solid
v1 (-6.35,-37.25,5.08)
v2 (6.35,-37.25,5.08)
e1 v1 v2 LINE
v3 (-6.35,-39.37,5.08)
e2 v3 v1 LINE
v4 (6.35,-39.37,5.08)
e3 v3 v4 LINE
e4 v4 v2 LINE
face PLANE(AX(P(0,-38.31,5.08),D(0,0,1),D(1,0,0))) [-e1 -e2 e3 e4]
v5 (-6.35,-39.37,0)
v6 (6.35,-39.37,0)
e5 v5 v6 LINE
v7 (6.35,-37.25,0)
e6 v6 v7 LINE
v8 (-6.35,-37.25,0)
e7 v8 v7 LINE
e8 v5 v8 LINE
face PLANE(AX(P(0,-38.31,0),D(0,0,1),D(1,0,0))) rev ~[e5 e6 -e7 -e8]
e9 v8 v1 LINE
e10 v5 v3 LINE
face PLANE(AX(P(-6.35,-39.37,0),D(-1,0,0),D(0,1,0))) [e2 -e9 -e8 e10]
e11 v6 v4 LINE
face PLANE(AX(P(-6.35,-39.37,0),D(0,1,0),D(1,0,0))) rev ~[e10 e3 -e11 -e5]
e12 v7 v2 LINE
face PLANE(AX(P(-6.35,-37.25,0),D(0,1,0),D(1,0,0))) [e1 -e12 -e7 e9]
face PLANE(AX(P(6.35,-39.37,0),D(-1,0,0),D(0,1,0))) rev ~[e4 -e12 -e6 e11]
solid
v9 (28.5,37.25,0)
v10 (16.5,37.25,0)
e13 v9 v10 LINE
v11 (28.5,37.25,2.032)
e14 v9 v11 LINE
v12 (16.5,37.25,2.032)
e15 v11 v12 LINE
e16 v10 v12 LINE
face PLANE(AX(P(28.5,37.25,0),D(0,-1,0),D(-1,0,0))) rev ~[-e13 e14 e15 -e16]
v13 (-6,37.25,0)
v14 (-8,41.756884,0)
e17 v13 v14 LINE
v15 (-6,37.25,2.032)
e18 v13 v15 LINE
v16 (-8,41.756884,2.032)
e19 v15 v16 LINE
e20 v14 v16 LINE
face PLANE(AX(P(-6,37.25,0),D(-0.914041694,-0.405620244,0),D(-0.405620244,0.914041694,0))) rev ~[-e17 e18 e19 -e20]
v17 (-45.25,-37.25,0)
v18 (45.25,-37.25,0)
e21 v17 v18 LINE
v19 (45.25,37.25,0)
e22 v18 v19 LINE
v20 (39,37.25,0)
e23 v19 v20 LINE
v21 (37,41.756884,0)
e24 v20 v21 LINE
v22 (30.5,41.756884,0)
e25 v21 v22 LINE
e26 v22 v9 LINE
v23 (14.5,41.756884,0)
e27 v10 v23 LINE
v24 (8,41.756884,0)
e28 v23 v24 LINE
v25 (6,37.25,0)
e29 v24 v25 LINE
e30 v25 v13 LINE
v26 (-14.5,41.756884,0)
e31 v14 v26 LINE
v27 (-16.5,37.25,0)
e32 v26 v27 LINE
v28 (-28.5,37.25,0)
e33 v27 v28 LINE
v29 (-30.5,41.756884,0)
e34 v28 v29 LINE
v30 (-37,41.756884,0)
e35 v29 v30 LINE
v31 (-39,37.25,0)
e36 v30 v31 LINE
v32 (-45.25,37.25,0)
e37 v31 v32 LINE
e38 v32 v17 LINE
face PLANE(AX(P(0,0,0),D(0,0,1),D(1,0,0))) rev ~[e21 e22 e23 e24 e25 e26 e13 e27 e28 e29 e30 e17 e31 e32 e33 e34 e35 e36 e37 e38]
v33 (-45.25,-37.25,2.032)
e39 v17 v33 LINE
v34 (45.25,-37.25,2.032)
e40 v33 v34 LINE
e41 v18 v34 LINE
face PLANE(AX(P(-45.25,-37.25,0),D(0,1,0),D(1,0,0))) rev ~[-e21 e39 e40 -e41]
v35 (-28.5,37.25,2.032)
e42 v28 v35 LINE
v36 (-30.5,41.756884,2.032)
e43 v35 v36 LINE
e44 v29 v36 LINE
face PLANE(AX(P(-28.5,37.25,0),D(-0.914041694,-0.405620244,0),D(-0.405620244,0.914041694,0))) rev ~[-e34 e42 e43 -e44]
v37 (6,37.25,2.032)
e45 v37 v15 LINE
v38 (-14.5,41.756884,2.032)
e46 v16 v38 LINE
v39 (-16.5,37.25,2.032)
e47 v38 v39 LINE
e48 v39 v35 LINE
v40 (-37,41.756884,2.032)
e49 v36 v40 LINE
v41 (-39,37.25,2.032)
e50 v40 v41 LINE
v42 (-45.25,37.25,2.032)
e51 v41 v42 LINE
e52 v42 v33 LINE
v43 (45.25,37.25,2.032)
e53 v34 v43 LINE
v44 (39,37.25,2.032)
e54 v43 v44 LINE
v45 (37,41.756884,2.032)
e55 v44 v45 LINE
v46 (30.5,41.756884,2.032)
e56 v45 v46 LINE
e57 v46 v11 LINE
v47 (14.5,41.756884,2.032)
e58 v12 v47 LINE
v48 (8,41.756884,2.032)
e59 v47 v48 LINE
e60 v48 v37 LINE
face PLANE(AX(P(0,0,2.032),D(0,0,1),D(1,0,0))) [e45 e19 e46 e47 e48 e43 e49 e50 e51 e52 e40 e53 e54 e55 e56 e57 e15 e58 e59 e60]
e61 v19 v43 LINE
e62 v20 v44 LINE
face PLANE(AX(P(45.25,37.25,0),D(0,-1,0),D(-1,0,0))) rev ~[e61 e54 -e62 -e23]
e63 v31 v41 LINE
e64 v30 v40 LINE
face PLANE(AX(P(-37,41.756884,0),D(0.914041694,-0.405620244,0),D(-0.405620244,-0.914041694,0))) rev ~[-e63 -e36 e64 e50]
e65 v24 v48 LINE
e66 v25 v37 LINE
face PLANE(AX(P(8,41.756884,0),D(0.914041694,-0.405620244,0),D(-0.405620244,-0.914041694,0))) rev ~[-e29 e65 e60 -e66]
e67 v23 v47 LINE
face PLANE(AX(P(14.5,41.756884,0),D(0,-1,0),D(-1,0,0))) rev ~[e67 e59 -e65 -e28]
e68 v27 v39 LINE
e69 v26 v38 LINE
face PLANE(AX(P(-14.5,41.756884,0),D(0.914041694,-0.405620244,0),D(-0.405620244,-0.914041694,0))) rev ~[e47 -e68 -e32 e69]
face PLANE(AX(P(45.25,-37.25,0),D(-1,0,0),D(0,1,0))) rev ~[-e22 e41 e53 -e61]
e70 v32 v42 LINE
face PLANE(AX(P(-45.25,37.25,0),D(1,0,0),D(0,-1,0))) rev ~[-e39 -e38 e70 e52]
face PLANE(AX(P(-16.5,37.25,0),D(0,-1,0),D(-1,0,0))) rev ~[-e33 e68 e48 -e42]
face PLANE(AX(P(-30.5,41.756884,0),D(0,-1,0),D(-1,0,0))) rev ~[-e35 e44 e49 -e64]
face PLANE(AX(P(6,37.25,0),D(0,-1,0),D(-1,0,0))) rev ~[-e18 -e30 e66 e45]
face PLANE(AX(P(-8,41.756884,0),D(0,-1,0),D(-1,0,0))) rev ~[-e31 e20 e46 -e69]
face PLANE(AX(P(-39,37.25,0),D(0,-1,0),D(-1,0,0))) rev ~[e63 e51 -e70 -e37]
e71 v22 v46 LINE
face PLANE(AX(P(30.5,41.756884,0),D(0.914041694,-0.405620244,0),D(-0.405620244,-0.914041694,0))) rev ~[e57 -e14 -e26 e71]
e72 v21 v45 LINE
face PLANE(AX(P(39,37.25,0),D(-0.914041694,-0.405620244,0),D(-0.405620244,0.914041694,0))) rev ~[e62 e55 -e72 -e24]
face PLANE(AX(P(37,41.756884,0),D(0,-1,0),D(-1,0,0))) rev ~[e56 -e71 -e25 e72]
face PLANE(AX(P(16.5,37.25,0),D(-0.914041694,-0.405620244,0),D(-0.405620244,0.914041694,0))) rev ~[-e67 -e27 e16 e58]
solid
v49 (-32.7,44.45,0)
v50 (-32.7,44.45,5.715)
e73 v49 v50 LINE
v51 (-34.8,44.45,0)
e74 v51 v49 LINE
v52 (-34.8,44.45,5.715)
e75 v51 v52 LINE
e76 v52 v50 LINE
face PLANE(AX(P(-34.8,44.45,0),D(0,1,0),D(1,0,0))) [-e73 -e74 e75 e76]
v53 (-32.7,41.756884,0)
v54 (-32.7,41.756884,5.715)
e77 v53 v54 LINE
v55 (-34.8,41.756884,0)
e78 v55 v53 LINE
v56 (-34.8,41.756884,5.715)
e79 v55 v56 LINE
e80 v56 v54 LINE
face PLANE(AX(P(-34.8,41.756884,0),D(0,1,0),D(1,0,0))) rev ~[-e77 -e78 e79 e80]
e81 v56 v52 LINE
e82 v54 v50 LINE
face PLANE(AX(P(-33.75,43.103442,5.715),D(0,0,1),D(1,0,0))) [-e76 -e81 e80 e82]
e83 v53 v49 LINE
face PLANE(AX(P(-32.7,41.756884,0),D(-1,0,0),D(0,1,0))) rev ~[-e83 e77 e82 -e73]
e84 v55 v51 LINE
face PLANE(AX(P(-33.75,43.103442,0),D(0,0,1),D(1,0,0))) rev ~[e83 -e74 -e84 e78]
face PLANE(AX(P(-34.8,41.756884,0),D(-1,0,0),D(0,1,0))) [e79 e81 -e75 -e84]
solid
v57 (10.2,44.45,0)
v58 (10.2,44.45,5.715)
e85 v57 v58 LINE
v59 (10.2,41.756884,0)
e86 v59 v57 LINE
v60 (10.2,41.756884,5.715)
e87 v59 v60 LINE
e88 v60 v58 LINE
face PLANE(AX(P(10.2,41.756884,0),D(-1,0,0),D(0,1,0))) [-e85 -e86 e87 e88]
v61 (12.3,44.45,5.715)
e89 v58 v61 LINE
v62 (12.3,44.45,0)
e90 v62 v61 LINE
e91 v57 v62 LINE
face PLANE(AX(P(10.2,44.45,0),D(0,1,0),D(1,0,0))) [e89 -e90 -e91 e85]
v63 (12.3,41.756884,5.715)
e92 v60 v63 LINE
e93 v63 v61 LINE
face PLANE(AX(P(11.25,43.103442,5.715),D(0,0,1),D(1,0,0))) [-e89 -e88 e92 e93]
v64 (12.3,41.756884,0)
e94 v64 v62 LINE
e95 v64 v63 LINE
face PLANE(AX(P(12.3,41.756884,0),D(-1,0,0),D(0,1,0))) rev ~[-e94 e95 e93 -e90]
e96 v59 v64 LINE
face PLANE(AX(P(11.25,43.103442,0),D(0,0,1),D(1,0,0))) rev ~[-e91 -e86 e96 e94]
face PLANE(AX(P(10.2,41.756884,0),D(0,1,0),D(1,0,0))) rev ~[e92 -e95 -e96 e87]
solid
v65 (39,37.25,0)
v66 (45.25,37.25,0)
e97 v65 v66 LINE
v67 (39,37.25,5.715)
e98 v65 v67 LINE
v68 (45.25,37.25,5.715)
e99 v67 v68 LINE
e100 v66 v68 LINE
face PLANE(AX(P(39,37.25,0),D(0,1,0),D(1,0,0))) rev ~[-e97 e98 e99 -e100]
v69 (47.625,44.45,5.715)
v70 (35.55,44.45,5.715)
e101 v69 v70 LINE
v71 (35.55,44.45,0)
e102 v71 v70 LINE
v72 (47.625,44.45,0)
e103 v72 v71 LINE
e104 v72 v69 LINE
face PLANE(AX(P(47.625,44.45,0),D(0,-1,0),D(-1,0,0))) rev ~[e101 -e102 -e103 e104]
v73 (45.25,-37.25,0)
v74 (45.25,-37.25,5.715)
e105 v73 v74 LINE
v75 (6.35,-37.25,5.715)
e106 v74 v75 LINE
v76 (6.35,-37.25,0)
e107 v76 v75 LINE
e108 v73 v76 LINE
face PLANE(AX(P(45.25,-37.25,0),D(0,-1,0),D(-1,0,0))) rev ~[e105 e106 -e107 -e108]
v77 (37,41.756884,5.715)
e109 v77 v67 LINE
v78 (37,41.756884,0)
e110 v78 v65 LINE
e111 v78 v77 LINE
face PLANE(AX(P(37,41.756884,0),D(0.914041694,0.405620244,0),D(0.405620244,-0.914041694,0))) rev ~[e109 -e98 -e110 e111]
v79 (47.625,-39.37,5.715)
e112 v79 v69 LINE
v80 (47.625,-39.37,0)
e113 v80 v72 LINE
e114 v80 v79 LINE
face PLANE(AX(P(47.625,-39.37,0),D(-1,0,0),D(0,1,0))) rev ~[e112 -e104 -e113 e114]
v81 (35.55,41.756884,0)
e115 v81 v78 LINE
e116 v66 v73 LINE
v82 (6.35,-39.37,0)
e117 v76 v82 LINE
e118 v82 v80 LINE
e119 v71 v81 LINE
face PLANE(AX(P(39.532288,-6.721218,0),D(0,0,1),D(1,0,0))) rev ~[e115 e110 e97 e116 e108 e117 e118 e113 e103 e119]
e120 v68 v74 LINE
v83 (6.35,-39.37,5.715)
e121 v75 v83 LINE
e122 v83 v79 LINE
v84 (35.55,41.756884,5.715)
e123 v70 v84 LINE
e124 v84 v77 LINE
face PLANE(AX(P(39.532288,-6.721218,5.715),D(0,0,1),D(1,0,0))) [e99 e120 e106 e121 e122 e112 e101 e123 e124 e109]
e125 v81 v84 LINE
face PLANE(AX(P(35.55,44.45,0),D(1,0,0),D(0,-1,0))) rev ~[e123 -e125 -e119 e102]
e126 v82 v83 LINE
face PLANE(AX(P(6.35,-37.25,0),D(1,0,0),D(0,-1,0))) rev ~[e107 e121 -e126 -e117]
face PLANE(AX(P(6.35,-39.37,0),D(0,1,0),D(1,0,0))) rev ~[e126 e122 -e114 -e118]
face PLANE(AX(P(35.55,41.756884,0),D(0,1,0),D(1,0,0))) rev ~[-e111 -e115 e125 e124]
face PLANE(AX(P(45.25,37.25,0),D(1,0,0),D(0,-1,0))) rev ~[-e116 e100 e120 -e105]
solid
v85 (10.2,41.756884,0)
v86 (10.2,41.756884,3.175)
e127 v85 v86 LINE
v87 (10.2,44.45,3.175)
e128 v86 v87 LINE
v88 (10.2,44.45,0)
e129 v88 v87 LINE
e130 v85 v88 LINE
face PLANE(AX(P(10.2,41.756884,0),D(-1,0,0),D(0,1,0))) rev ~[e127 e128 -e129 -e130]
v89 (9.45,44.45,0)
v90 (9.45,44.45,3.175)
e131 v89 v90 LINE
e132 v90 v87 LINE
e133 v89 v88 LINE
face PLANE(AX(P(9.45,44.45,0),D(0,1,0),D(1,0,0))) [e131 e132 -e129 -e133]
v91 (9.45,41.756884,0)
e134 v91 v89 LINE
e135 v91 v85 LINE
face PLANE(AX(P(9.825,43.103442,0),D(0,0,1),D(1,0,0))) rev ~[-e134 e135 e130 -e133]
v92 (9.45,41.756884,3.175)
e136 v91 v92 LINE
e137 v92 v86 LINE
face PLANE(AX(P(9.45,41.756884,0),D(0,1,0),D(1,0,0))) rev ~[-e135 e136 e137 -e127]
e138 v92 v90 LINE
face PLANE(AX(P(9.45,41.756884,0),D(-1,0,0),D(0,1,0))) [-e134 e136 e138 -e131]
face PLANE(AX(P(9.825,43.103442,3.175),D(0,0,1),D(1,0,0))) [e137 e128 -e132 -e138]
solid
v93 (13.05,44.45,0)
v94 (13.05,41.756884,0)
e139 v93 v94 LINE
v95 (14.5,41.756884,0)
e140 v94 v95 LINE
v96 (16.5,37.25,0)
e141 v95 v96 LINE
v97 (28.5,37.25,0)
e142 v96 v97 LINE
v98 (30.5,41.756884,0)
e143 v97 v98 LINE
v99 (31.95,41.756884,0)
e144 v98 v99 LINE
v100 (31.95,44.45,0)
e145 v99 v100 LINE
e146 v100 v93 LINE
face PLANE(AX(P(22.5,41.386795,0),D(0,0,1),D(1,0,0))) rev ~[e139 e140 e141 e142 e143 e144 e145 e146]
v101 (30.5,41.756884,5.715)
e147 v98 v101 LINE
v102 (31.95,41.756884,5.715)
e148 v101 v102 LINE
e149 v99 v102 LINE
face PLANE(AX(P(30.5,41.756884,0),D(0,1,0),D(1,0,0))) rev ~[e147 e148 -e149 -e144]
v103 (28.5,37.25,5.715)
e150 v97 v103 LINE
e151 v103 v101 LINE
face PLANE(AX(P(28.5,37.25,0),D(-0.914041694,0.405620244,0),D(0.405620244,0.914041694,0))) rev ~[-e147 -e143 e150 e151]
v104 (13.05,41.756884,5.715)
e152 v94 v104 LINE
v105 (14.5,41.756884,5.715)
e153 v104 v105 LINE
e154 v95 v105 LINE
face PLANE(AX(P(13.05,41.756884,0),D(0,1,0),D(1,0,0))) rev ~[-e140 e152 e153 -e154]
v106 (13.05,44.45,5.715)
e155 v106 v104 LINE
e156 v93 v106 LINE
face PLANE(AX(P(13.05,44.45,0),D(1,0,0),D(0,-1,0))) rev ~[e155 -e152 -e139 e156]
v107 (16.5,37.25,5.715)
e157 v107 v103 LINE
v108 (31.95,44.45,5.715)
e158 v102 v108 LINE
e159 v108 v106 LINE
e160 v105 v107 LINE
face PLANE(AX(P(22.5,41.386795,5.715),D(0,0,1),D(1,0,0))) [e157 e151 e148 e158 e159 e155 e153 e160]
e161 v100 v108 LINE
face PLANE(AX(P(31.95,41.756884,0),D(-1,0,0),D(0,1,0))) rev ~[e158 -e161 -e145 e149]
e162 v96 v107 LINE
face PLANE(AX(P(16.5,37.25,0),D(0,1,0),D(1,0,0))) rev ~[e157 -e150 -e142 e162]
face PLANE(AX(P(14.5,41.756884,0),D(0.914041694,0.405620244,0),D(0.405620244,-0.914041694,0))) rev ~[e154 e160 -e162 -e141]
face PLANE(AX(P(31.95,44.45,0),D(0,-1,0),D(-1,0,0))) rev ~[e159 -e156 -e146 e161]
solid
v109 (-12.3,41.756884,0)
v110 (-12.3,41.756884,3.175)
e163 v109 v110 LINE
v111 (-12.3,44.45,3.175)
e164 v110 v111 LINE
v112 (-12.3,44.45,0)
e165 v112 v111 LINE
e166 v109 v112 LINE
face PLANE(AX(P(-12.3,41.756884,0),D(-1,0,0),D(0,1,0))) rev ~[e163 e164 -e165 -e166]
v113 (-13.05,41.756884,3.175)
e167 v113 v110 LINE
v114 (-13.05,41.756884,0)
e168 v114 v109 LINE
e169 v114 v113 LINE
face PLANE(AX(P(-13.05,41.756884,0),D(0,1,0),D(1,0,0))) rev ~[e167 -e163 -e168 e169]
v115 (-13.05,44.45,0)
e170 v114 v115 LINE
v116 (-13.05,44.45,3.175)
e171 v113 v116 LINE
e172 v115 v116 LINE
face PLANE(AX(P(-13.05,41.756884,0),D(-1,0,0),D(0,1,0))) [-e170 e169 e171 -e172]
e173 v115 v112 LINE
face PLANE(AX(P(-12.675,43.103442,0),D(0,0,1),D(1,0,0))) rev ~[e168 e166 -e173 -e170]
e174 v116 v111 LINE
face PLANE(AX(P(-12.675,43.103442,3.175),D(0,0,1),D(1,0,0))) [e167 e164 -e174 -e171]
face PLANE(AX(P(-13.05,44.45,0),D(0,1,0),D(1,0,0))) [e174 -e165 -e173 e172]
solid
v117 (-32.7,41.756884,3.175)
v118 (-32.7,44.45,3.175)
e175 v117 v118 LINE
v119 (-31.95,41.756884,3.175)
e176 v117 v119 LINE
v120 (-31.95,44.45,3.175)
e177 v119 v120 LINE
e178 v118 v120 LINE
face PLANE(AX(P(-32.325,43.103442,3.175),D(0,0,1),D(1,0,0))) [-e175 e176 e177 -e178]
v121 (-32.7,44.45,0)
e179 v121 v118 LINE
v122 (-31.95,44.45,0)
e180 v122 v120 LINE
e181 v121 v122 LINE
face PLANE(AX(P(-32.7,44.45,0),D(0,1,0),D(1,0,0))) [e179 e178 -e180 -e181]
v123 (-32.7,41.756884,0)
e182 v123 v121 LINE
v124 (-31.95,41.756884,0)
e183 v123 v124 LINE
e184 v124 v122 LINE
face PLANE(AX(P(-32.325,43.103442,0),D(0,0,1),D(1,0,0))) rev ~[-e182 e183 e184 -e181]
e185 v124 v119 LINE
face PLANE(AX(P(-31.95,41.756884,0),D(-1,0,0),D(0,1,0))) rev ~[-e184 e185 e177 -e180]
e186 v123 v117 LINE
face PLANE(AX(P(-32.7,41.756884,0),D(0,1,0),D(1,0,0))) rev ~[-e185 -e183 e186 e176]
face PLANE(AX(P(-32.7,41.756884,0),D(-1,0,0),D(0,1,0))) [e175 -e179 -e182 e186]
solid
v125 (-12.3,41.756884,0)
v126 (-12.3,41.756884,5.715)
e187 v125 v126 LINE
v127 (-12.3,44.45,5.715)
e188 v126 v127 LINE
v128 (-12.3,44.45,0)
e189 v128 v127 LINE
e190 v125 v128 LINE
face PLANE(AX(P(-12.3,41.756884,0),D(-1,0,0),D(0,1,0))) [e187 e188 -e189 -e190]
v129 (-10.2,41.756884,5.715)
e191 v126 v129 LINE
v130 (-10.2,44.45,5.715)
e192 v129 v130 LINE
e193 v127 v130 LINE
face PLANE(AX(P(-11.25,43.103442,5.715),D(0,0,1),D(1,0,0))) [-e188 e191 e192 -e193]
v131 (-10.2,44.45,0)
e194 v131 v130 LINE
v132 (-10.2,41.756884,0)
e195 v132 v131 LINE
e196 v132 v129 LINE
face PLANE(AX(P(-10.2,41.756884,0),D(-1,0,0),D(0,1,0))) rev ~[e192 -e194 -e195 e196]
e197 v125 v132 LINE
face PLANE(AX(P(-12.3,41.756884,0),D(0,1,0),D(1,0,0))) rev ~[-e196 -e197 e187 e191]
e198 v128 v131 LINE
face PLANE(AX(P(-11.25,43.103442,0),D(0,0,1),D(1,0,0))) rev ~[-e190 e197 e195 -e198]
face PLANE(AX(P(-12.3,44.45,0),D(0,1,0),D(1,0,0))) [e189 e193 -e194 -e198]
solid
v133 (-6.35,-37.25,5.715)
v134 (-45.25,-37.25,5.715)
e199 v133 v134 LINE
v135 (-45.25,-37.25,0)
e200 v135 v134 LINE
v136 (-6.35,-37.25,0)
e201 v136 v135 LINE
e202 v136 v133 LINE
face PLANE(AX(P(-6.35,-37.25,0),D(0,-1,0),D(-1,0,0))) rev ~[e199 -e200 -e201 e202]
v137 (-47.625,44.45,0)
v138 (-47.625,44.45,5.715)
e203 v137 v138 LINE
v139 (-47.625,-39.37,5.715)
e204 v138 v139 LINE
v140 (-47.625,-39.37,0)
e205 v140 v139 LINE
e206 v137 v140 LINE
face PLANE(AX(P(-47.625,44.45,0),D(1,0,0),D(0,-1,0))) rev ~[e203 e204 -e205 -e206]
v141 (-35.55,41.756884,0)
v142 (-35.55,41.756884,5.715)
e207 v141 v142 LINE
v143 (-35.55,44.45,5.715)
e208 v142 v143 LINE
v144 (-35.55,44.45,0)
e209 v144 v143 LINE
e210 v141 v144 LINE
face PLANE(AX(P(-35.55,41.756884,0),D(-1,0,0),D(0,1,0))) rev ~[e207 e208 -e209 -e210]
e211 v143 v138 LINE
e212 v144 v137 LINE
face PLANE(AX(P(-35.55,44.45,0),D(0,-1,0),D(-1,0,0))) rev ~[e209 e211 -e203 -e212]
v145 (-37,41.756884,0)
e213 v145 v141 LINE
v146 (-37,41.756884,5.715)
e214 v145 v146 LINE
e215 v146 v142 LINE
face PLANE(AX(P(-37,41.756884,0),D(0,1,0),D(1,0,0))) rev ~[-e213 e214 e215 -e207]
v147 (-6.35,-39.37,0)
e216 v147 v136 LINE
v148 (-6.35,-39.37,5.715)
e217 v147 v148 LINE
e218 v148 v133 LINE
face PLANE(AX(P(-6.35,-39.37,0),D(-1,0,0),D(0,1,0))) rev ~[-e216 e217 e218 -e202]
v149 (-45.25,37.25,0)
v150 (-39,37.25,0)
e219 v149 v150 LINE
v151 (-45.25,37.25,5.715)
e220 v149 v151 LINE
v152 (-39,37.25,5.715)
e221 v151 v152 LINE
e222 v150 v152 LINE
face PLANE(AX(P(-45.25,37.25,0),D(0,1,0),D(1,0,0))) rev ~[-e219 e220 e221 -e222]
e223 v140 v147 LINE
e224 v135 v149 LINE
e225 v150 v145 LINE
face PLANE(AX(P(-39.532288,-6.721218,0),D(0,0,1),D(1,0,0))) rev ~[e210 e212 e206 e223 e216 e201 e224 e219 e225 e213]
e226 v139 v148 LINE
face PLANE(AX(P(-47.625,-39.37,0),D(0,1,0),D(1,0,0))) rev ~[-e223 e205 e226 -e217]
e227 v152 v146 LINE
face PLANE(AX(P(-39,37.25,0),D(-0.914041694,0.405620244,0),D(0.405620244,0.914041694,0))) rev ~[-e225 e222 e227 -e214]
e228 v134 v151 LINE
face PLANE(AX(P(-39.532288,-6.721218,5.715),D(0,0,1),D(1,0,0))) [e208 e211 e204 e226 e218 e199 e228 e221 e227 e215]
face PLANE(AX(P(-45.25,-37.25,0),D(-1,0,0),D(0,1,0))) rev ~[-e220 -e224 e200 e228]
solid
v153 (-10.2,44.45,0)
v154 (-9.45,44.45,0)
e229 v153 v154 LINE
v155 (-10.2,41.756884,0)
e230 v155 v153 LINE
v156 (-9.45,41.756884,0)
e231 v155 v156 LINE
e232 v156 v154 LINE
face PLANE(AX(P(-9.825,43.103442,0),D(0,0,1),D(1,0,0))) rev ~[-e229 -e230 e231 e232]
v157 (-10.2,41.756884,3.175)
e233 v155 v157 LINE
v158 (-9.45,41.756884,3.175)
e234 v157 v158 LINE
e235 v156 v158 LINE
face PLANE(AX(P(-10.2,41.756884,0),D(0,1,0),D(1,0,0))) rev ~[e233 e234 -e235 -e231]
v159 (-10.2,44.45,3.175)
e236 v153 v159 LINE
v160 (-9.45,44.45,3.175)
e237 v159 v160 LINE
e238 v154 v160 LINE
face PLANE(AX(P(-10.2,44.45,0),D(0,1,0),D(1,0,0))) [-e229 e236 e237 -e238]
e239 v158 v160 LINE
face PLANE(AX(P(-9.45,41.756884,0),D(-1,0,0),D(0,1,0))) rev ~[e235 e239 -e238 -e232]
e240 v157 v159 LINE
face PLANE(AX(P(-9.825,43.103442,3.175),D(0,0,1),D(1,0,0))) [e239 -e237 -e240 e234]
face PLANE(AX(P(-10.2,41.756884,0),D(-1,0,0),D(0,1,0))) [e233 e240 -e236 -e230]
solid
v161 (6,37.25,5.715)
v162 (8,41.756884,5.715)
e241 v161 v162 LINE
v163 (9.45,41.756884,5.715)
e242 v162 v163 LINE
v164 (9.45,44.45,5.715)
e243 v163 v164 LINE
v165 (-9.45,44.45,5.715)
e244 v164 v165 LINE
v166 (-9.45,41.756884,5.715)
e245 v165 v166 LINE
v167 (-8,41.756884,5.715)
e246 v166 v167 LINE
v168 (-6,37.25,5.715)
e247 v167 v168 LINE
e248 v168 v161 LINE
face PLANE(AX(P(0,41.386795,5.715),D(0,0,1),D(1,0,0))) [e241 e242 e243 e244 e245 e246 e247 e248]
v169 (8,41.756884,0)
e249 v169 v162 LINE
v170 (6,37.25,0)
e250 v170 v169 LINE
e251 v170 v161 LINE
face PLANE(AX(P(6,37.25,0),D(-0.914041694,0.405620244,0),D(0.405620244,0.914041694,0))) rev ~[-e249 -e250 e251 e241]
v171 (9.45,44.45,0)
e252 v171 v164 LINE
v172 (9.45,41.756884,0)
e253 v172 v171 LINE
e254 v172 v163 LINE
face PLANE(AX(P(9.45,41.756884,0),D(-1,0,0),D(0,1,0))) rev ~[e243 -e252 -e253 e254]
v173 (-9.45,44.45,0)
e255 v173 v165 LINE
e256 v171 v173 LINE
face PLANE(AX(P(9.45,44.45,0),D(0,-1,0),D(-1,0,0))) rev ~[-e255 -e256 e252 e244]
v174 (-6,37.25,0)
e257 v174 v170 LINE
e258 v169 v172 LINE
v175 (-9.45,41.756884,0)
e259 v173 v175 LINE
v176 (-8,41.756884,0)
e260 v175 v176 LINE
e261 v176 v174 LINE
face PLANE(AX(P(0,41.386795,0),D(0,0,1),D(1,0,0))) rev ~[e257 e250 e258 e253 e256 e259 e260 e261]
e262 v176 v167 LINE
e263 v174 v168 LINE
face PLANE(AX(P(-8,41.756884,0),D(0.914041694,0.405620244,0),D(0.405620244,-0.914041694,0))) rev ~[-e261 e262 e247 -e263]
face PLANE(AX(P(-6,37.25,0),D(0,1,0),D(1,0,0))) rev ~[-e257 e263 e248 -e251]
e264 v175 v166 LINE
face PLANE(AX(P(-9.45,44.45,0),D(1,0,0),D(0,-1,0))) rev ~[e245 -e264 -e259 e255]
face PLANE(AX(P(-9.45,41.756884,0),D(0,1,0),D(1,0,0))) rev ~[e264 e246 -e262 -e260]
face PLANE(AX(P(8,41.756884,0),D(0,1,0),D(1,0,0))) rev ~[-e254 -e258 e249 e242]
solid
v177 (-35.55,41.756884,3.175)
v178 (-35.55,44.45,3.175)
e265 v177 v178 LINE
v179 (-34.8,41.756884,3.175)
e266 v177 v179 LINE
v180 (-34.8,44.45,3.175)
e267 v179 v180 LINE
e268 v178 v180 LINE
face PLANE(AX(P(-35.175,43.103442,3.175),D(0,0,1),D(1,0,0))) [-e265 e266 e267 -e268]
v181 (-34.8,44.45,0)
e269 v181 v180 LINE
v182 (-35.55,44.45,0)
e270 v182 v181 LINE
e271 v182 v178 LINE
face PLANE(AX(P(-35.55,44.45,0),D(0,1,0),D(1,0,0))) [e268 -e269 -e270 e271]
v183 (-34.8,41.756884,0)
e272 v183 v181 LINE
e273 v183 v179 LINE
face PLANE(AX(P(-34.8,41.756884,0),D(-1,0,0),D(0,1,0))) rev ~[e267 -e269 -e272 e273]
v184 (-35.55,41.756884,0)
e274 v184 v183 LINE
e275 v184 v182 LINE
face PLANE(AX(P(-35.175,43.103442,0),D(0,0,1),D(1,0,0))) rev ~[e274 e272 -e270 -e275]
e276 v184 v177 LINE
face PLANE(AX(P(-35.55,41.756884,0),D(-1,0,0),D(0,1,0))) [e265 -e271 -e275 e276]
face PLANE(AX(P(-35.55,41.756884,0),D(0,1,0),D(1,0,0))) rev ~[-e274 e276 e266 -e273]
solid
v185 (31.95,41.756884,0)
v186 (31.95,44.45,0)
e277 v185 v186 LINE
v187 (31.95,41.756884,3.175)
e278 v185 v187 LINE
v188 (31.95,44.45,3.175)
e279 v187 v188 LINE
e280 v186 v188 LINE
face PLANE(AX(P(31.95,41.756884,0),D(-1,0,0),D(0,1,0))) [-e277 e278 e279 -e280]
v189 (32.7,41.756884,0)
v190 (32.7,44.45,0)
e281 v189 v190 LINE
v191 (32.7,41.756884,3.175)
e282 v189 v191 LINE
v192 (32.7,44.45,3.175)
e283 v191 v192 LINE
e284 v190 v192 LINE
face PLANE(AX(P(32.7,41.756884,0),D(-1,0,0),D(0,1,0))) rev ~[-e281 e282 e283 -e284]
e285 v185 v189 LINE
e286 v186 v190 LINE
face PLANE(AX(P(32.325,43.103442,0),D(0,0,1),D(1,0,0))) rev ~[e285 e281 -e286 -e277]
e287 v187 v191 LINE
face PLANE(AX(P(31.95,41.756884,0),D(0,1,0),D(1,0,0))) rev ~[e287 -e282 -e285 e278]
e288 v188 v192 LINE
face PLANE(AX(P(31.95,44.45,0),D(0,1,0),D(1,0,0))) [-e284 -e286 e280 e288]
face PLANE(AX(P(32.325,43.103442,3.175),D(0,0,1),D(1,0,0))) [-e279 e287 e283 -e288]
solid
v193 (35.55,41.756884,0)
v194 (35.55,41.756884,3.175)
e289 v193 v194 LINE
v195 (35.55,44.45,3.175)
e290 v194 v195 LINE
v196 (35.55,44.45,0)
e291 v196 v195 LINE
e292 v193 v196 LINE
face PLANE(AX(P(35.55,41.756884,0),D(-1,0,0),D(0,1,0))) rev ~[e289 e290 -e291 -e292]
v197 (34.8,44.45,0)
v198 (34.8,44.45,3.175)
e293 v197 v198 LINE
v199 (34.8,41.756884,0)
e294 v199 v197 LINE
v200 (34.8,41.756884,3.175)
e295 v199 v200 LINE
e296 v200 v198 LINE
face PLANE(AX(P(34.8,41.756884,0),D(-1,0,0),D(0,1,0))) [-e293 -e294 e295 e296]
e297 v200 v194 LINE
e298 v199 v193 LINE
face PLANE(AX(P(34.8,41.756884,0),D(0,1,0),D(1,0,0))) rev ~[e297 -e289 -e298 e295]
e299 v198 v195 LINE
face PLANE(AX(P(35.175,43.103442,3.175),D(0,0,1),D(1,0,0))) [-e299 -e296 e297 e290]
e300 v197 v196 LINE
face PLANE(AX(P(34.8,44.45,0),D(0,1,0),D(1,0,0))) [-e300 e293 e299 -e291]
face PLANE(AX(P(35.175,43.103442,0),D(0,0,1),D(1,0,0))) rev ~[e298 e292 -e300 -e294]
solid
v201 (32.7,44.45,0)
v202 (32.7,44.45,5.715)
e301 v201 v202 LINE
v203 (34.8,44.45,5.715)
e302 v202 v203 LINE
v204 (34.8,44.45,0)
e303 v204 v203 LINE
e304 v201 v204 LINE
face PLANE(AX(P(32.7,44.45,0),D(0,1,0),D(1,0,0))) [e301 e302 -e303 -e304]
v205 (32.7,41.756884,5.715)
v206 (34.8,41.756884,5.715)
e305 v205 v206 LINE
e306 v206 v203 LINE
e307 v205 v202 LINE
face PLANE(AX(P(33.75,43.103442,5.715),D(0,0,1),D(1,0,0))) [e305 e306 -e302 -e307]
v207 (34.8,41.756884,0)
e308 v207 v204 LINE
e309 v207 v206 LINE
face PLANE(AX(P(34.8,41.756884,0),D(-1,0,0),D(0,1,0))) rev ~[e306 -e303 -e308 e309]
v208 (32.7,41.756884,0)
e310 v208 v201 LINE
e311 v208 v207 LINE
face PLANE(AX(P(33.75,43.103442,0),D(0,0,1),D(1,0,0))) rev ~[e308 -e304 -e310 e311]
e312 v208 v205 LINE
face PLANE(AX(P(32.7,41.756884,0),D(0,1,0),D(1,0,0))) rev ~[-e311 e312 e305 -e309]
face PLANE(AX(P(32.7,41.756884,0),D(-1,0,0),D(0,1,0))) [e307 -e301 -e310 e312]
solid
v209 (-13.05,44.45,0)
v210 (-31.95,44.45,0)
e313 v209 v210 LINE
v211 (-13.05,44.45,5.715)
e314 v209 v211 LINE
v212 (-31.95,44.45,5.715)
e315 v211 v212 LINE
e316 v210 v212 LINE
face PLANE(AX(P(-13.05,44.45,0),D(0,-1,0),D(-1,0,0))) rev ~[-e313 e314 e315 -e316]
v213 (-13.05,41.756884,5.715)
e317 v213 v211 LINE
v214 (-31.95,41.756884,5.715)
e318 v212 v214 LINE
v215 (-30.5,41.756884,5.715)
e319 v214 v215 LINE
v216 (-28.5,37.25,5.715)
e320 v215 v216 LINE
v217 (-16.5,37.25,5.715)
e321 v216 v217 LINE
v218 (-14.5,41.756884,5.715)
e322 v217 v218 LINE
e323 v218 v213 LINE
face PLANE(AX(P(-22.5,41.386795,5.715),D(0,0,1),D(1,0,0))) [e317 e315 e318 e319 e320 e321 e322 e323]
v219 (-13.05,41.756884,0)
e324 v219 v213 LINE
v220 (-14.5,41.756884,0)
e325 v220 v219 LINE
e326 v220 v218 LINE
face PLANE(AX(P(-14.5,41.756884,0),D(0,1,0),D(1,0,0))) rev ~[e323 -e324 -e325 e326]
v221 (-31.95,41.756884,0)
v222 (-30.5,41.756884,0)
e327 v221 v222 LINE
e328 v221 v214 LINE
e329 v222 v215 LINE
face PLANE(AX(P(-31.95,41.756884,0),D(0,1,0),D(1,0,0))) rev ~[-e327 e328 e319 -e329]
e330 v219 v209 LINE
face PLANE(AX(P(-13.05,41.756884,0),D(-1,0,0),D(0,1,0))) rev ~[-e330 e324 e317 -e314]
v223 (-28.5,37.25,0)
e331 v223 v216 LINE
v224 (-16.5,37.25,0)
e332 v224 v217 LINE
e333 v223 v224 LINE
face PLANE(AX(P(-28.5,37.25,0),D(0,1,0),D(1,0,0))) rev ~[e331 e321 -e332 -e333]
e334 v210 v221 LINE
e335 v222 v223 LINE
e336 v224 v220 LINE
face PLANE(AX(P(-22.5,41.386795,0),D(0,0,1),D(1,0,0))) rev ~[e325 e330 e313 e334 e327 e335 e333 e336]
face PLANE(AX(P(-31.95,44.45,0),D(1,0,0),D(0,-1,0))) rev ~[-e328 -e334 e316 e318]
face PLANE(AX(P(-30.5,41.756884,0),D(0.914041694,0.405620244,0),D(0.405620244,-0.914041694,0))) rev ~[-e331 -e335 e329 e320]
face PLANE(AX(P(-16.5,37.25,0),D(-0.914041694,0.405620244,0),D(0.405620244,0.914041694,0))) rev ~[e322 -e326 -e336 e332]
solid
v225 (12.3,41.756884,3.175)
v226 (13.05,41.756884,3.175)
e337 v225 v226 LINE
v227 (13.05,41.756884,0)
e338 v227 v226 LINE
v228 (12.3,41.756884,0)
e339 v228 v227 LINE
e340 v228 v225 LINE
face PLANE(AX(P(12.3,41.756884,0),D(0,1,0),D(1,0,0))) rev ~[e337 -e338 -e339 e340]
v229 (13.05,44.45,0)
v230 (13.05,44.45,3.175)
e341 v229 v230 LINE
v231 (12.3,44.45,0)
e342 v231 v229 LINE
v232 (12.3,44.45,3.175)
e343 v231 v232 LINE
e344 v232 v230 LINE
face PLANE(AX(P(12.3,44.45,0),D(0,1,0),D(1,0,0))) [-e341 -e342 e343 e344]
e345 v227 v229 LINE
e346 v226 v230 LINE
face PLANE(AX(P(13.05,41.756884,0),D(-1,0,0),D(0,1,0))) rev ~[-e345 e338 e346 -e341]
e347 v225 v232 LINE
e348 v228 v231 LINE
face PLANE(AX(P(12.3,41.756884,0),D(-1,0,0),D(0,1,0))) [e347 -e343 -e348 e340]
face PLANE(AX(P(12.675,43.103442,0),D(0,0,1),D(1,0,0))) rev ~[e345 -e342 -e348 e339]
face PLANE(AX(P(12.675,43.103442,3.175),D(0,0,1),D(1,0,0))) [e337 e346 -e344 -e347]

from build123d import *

# Parameters (mm, degrees)
F0_W     = 2.1
F0_H     = 2.693116
F1_DEPTH = 5.715
F2_DEPTH = 2.032
F0_W_2   = 0.75
F3_DEPTH = 3.175
F0_W_3   = 12.7
F0_H_2   = 2.12
F4_DEPTH = 5.08


with BuildPart() as f1:
    # F0 (on Top) → F1 (new body)
    with BuildSketch(Plane.XY):
        Polygon((16.5, 37.25), (28.5, 37.25), (30.5, 41.756884), (31.95, 41.756884), (31.95, 44.45), (13.05, 44.45), (13.05, 41.756884), (14.5, 41.756884), align=None)
        Polygon((-6, 37.25), (6, 37.25), (8, 41.756884), (9.45, 41.756884), (9.45, 44.45), (-9.45, 44.45), (-9.45, 41.756884), (-8, 41.756884), align=None)
        Polygon((-30.5, 41.756884), (-28.5, 37.25), (-16.5, 37.25), (-14.5, 41.756884), (-13.05, 41.756884), (-13.05, 44.45), (-31.95, 44.45), (-31.95, 41.756884), align=None)
        Polygon((45.25, 37.25), (45.25, -37.25), (6.35, -37.25), (6.35, -39.37), (47.625, -39.37), (47.625, 44.45), (35.55, 44.45), (35.55, 41.756884), (37, 41.756884), (39, 37.25), align=None)
        Polygon((-6.35, -39.37), (-6.35, -37.25), (-45.25, -37.25), (-45.25, 37.25), (-39, 37.25), (-37, 41.756884), (-35.55, 41.756884), (-35.55, 44.45), (-47.625, 44.45), (-47.625, -39.37), align=None)
        with Locations((-33.75, 43.103442)):
            Rectangle(F0_W, F0_H)
        with Locations((-11.25, 43.103442)):
            Rectangle(F0_W, F0_H)
        with Locations((11.25, 43.103442)):
            Rectangle(F0_W, F0_H)
        with Locations((33.75, 43.103442)):
            Rectangle(F0_W, F0_H)
    extrude(amount=F1_DEPTH)


with BuildPart() as f2:
    # F0 (on Top) → F2 (new body)
    with BuildSketch(Plane.XY):
        Polygon((6.35, -37.25), (45.25, -37.25), (45.25, 37.25), (39, 37.25), (28.5, 37.25), (16.5, 37.25), (6, 37.25), (-6, 37.25), (-16.5, 37.25), (-28.5, 37.25), (-39, 37.25), (-45.25, 37.25), (-45.25, -37.25), (-6.35, -37.25), align=None)
        Polygon((6, 37.25), (16.5, 37.25), (14.5, 41.756884), (13.05, 41.756884), (12.3, 41.756884), (10.2, 41.756884), (9.45, 41.756884), (8, 41.756884), align=None)
        Polygon((-37, 41.756884), (-39, 37.25), (-28.5, 37.25), (-30.5, 41.756884), (-31.95, 41.756884), (-32.7, 41.756884), (-34.8, 41.756884), (-35.55, 41.756884), align=None)
        Polygon((28.5, 37.25), (39, 37.25), (37, 41.756884), (35.55, 41.756884), (34.8, 41.756884), (32.7, 41.756884), (31.95, 41.756884), (30.5, 41.756884), align=None)
        Polygon((-16.5, 37.25), (-6, 37.25), (-8, 41.756884), (-9.45, 41.756884), (-10.2, 41.756884), (-12.3, 41.756884), (-13.05, 41.756884), (-14.5, 41.756884), align=None)
    extrude(amount=F2_DEPTH)


with BuildPart() as f3:
    # F0 (on Top) → F3 (new body)
    with BuildSketch(Plane.XY):
        with Locations((-32.325, 43.103442)):
            Rectangle(F0_W_2, F0_H)
        with Locations((-9.825, 43.103442)):
            Rectangle(F0_W_2, F0_H)
        with Locations((9.825, 43.103442)):
            Rectangle(F0_W_2, F0_H)
        with Locations((35.175, 43.103442)):
            Rectangle(F0_W_2, F0_H)
        with Locations((12.675, 43.103442)):
            Rectangle(F0_W_2, F0_H)
        with Locations((-12.675, 43.103442)):
            Rectangle(F0_W_2, F0_H)
        with Locations((-35.175, 43.103442)):
            Rectangle(F0_W_2, F0_H)
        with Locations((32.325, 43.103442)):
            Rectangle(F0_W_2, F0_H)
    extrude(amount=F3_DEPTH)


with BuildPart() as f4:
    # F0 (on Top) → F4 (new body)
    with BuildSketch(Plane.XY):
        with Locations((0, -38.31)):
            Rectangle(F0_W_3, F0_H_2)
    extrude(amount=F4_DEPTH)


solid = Compound([f1.part, f2.part, f3.part, f4.part])
